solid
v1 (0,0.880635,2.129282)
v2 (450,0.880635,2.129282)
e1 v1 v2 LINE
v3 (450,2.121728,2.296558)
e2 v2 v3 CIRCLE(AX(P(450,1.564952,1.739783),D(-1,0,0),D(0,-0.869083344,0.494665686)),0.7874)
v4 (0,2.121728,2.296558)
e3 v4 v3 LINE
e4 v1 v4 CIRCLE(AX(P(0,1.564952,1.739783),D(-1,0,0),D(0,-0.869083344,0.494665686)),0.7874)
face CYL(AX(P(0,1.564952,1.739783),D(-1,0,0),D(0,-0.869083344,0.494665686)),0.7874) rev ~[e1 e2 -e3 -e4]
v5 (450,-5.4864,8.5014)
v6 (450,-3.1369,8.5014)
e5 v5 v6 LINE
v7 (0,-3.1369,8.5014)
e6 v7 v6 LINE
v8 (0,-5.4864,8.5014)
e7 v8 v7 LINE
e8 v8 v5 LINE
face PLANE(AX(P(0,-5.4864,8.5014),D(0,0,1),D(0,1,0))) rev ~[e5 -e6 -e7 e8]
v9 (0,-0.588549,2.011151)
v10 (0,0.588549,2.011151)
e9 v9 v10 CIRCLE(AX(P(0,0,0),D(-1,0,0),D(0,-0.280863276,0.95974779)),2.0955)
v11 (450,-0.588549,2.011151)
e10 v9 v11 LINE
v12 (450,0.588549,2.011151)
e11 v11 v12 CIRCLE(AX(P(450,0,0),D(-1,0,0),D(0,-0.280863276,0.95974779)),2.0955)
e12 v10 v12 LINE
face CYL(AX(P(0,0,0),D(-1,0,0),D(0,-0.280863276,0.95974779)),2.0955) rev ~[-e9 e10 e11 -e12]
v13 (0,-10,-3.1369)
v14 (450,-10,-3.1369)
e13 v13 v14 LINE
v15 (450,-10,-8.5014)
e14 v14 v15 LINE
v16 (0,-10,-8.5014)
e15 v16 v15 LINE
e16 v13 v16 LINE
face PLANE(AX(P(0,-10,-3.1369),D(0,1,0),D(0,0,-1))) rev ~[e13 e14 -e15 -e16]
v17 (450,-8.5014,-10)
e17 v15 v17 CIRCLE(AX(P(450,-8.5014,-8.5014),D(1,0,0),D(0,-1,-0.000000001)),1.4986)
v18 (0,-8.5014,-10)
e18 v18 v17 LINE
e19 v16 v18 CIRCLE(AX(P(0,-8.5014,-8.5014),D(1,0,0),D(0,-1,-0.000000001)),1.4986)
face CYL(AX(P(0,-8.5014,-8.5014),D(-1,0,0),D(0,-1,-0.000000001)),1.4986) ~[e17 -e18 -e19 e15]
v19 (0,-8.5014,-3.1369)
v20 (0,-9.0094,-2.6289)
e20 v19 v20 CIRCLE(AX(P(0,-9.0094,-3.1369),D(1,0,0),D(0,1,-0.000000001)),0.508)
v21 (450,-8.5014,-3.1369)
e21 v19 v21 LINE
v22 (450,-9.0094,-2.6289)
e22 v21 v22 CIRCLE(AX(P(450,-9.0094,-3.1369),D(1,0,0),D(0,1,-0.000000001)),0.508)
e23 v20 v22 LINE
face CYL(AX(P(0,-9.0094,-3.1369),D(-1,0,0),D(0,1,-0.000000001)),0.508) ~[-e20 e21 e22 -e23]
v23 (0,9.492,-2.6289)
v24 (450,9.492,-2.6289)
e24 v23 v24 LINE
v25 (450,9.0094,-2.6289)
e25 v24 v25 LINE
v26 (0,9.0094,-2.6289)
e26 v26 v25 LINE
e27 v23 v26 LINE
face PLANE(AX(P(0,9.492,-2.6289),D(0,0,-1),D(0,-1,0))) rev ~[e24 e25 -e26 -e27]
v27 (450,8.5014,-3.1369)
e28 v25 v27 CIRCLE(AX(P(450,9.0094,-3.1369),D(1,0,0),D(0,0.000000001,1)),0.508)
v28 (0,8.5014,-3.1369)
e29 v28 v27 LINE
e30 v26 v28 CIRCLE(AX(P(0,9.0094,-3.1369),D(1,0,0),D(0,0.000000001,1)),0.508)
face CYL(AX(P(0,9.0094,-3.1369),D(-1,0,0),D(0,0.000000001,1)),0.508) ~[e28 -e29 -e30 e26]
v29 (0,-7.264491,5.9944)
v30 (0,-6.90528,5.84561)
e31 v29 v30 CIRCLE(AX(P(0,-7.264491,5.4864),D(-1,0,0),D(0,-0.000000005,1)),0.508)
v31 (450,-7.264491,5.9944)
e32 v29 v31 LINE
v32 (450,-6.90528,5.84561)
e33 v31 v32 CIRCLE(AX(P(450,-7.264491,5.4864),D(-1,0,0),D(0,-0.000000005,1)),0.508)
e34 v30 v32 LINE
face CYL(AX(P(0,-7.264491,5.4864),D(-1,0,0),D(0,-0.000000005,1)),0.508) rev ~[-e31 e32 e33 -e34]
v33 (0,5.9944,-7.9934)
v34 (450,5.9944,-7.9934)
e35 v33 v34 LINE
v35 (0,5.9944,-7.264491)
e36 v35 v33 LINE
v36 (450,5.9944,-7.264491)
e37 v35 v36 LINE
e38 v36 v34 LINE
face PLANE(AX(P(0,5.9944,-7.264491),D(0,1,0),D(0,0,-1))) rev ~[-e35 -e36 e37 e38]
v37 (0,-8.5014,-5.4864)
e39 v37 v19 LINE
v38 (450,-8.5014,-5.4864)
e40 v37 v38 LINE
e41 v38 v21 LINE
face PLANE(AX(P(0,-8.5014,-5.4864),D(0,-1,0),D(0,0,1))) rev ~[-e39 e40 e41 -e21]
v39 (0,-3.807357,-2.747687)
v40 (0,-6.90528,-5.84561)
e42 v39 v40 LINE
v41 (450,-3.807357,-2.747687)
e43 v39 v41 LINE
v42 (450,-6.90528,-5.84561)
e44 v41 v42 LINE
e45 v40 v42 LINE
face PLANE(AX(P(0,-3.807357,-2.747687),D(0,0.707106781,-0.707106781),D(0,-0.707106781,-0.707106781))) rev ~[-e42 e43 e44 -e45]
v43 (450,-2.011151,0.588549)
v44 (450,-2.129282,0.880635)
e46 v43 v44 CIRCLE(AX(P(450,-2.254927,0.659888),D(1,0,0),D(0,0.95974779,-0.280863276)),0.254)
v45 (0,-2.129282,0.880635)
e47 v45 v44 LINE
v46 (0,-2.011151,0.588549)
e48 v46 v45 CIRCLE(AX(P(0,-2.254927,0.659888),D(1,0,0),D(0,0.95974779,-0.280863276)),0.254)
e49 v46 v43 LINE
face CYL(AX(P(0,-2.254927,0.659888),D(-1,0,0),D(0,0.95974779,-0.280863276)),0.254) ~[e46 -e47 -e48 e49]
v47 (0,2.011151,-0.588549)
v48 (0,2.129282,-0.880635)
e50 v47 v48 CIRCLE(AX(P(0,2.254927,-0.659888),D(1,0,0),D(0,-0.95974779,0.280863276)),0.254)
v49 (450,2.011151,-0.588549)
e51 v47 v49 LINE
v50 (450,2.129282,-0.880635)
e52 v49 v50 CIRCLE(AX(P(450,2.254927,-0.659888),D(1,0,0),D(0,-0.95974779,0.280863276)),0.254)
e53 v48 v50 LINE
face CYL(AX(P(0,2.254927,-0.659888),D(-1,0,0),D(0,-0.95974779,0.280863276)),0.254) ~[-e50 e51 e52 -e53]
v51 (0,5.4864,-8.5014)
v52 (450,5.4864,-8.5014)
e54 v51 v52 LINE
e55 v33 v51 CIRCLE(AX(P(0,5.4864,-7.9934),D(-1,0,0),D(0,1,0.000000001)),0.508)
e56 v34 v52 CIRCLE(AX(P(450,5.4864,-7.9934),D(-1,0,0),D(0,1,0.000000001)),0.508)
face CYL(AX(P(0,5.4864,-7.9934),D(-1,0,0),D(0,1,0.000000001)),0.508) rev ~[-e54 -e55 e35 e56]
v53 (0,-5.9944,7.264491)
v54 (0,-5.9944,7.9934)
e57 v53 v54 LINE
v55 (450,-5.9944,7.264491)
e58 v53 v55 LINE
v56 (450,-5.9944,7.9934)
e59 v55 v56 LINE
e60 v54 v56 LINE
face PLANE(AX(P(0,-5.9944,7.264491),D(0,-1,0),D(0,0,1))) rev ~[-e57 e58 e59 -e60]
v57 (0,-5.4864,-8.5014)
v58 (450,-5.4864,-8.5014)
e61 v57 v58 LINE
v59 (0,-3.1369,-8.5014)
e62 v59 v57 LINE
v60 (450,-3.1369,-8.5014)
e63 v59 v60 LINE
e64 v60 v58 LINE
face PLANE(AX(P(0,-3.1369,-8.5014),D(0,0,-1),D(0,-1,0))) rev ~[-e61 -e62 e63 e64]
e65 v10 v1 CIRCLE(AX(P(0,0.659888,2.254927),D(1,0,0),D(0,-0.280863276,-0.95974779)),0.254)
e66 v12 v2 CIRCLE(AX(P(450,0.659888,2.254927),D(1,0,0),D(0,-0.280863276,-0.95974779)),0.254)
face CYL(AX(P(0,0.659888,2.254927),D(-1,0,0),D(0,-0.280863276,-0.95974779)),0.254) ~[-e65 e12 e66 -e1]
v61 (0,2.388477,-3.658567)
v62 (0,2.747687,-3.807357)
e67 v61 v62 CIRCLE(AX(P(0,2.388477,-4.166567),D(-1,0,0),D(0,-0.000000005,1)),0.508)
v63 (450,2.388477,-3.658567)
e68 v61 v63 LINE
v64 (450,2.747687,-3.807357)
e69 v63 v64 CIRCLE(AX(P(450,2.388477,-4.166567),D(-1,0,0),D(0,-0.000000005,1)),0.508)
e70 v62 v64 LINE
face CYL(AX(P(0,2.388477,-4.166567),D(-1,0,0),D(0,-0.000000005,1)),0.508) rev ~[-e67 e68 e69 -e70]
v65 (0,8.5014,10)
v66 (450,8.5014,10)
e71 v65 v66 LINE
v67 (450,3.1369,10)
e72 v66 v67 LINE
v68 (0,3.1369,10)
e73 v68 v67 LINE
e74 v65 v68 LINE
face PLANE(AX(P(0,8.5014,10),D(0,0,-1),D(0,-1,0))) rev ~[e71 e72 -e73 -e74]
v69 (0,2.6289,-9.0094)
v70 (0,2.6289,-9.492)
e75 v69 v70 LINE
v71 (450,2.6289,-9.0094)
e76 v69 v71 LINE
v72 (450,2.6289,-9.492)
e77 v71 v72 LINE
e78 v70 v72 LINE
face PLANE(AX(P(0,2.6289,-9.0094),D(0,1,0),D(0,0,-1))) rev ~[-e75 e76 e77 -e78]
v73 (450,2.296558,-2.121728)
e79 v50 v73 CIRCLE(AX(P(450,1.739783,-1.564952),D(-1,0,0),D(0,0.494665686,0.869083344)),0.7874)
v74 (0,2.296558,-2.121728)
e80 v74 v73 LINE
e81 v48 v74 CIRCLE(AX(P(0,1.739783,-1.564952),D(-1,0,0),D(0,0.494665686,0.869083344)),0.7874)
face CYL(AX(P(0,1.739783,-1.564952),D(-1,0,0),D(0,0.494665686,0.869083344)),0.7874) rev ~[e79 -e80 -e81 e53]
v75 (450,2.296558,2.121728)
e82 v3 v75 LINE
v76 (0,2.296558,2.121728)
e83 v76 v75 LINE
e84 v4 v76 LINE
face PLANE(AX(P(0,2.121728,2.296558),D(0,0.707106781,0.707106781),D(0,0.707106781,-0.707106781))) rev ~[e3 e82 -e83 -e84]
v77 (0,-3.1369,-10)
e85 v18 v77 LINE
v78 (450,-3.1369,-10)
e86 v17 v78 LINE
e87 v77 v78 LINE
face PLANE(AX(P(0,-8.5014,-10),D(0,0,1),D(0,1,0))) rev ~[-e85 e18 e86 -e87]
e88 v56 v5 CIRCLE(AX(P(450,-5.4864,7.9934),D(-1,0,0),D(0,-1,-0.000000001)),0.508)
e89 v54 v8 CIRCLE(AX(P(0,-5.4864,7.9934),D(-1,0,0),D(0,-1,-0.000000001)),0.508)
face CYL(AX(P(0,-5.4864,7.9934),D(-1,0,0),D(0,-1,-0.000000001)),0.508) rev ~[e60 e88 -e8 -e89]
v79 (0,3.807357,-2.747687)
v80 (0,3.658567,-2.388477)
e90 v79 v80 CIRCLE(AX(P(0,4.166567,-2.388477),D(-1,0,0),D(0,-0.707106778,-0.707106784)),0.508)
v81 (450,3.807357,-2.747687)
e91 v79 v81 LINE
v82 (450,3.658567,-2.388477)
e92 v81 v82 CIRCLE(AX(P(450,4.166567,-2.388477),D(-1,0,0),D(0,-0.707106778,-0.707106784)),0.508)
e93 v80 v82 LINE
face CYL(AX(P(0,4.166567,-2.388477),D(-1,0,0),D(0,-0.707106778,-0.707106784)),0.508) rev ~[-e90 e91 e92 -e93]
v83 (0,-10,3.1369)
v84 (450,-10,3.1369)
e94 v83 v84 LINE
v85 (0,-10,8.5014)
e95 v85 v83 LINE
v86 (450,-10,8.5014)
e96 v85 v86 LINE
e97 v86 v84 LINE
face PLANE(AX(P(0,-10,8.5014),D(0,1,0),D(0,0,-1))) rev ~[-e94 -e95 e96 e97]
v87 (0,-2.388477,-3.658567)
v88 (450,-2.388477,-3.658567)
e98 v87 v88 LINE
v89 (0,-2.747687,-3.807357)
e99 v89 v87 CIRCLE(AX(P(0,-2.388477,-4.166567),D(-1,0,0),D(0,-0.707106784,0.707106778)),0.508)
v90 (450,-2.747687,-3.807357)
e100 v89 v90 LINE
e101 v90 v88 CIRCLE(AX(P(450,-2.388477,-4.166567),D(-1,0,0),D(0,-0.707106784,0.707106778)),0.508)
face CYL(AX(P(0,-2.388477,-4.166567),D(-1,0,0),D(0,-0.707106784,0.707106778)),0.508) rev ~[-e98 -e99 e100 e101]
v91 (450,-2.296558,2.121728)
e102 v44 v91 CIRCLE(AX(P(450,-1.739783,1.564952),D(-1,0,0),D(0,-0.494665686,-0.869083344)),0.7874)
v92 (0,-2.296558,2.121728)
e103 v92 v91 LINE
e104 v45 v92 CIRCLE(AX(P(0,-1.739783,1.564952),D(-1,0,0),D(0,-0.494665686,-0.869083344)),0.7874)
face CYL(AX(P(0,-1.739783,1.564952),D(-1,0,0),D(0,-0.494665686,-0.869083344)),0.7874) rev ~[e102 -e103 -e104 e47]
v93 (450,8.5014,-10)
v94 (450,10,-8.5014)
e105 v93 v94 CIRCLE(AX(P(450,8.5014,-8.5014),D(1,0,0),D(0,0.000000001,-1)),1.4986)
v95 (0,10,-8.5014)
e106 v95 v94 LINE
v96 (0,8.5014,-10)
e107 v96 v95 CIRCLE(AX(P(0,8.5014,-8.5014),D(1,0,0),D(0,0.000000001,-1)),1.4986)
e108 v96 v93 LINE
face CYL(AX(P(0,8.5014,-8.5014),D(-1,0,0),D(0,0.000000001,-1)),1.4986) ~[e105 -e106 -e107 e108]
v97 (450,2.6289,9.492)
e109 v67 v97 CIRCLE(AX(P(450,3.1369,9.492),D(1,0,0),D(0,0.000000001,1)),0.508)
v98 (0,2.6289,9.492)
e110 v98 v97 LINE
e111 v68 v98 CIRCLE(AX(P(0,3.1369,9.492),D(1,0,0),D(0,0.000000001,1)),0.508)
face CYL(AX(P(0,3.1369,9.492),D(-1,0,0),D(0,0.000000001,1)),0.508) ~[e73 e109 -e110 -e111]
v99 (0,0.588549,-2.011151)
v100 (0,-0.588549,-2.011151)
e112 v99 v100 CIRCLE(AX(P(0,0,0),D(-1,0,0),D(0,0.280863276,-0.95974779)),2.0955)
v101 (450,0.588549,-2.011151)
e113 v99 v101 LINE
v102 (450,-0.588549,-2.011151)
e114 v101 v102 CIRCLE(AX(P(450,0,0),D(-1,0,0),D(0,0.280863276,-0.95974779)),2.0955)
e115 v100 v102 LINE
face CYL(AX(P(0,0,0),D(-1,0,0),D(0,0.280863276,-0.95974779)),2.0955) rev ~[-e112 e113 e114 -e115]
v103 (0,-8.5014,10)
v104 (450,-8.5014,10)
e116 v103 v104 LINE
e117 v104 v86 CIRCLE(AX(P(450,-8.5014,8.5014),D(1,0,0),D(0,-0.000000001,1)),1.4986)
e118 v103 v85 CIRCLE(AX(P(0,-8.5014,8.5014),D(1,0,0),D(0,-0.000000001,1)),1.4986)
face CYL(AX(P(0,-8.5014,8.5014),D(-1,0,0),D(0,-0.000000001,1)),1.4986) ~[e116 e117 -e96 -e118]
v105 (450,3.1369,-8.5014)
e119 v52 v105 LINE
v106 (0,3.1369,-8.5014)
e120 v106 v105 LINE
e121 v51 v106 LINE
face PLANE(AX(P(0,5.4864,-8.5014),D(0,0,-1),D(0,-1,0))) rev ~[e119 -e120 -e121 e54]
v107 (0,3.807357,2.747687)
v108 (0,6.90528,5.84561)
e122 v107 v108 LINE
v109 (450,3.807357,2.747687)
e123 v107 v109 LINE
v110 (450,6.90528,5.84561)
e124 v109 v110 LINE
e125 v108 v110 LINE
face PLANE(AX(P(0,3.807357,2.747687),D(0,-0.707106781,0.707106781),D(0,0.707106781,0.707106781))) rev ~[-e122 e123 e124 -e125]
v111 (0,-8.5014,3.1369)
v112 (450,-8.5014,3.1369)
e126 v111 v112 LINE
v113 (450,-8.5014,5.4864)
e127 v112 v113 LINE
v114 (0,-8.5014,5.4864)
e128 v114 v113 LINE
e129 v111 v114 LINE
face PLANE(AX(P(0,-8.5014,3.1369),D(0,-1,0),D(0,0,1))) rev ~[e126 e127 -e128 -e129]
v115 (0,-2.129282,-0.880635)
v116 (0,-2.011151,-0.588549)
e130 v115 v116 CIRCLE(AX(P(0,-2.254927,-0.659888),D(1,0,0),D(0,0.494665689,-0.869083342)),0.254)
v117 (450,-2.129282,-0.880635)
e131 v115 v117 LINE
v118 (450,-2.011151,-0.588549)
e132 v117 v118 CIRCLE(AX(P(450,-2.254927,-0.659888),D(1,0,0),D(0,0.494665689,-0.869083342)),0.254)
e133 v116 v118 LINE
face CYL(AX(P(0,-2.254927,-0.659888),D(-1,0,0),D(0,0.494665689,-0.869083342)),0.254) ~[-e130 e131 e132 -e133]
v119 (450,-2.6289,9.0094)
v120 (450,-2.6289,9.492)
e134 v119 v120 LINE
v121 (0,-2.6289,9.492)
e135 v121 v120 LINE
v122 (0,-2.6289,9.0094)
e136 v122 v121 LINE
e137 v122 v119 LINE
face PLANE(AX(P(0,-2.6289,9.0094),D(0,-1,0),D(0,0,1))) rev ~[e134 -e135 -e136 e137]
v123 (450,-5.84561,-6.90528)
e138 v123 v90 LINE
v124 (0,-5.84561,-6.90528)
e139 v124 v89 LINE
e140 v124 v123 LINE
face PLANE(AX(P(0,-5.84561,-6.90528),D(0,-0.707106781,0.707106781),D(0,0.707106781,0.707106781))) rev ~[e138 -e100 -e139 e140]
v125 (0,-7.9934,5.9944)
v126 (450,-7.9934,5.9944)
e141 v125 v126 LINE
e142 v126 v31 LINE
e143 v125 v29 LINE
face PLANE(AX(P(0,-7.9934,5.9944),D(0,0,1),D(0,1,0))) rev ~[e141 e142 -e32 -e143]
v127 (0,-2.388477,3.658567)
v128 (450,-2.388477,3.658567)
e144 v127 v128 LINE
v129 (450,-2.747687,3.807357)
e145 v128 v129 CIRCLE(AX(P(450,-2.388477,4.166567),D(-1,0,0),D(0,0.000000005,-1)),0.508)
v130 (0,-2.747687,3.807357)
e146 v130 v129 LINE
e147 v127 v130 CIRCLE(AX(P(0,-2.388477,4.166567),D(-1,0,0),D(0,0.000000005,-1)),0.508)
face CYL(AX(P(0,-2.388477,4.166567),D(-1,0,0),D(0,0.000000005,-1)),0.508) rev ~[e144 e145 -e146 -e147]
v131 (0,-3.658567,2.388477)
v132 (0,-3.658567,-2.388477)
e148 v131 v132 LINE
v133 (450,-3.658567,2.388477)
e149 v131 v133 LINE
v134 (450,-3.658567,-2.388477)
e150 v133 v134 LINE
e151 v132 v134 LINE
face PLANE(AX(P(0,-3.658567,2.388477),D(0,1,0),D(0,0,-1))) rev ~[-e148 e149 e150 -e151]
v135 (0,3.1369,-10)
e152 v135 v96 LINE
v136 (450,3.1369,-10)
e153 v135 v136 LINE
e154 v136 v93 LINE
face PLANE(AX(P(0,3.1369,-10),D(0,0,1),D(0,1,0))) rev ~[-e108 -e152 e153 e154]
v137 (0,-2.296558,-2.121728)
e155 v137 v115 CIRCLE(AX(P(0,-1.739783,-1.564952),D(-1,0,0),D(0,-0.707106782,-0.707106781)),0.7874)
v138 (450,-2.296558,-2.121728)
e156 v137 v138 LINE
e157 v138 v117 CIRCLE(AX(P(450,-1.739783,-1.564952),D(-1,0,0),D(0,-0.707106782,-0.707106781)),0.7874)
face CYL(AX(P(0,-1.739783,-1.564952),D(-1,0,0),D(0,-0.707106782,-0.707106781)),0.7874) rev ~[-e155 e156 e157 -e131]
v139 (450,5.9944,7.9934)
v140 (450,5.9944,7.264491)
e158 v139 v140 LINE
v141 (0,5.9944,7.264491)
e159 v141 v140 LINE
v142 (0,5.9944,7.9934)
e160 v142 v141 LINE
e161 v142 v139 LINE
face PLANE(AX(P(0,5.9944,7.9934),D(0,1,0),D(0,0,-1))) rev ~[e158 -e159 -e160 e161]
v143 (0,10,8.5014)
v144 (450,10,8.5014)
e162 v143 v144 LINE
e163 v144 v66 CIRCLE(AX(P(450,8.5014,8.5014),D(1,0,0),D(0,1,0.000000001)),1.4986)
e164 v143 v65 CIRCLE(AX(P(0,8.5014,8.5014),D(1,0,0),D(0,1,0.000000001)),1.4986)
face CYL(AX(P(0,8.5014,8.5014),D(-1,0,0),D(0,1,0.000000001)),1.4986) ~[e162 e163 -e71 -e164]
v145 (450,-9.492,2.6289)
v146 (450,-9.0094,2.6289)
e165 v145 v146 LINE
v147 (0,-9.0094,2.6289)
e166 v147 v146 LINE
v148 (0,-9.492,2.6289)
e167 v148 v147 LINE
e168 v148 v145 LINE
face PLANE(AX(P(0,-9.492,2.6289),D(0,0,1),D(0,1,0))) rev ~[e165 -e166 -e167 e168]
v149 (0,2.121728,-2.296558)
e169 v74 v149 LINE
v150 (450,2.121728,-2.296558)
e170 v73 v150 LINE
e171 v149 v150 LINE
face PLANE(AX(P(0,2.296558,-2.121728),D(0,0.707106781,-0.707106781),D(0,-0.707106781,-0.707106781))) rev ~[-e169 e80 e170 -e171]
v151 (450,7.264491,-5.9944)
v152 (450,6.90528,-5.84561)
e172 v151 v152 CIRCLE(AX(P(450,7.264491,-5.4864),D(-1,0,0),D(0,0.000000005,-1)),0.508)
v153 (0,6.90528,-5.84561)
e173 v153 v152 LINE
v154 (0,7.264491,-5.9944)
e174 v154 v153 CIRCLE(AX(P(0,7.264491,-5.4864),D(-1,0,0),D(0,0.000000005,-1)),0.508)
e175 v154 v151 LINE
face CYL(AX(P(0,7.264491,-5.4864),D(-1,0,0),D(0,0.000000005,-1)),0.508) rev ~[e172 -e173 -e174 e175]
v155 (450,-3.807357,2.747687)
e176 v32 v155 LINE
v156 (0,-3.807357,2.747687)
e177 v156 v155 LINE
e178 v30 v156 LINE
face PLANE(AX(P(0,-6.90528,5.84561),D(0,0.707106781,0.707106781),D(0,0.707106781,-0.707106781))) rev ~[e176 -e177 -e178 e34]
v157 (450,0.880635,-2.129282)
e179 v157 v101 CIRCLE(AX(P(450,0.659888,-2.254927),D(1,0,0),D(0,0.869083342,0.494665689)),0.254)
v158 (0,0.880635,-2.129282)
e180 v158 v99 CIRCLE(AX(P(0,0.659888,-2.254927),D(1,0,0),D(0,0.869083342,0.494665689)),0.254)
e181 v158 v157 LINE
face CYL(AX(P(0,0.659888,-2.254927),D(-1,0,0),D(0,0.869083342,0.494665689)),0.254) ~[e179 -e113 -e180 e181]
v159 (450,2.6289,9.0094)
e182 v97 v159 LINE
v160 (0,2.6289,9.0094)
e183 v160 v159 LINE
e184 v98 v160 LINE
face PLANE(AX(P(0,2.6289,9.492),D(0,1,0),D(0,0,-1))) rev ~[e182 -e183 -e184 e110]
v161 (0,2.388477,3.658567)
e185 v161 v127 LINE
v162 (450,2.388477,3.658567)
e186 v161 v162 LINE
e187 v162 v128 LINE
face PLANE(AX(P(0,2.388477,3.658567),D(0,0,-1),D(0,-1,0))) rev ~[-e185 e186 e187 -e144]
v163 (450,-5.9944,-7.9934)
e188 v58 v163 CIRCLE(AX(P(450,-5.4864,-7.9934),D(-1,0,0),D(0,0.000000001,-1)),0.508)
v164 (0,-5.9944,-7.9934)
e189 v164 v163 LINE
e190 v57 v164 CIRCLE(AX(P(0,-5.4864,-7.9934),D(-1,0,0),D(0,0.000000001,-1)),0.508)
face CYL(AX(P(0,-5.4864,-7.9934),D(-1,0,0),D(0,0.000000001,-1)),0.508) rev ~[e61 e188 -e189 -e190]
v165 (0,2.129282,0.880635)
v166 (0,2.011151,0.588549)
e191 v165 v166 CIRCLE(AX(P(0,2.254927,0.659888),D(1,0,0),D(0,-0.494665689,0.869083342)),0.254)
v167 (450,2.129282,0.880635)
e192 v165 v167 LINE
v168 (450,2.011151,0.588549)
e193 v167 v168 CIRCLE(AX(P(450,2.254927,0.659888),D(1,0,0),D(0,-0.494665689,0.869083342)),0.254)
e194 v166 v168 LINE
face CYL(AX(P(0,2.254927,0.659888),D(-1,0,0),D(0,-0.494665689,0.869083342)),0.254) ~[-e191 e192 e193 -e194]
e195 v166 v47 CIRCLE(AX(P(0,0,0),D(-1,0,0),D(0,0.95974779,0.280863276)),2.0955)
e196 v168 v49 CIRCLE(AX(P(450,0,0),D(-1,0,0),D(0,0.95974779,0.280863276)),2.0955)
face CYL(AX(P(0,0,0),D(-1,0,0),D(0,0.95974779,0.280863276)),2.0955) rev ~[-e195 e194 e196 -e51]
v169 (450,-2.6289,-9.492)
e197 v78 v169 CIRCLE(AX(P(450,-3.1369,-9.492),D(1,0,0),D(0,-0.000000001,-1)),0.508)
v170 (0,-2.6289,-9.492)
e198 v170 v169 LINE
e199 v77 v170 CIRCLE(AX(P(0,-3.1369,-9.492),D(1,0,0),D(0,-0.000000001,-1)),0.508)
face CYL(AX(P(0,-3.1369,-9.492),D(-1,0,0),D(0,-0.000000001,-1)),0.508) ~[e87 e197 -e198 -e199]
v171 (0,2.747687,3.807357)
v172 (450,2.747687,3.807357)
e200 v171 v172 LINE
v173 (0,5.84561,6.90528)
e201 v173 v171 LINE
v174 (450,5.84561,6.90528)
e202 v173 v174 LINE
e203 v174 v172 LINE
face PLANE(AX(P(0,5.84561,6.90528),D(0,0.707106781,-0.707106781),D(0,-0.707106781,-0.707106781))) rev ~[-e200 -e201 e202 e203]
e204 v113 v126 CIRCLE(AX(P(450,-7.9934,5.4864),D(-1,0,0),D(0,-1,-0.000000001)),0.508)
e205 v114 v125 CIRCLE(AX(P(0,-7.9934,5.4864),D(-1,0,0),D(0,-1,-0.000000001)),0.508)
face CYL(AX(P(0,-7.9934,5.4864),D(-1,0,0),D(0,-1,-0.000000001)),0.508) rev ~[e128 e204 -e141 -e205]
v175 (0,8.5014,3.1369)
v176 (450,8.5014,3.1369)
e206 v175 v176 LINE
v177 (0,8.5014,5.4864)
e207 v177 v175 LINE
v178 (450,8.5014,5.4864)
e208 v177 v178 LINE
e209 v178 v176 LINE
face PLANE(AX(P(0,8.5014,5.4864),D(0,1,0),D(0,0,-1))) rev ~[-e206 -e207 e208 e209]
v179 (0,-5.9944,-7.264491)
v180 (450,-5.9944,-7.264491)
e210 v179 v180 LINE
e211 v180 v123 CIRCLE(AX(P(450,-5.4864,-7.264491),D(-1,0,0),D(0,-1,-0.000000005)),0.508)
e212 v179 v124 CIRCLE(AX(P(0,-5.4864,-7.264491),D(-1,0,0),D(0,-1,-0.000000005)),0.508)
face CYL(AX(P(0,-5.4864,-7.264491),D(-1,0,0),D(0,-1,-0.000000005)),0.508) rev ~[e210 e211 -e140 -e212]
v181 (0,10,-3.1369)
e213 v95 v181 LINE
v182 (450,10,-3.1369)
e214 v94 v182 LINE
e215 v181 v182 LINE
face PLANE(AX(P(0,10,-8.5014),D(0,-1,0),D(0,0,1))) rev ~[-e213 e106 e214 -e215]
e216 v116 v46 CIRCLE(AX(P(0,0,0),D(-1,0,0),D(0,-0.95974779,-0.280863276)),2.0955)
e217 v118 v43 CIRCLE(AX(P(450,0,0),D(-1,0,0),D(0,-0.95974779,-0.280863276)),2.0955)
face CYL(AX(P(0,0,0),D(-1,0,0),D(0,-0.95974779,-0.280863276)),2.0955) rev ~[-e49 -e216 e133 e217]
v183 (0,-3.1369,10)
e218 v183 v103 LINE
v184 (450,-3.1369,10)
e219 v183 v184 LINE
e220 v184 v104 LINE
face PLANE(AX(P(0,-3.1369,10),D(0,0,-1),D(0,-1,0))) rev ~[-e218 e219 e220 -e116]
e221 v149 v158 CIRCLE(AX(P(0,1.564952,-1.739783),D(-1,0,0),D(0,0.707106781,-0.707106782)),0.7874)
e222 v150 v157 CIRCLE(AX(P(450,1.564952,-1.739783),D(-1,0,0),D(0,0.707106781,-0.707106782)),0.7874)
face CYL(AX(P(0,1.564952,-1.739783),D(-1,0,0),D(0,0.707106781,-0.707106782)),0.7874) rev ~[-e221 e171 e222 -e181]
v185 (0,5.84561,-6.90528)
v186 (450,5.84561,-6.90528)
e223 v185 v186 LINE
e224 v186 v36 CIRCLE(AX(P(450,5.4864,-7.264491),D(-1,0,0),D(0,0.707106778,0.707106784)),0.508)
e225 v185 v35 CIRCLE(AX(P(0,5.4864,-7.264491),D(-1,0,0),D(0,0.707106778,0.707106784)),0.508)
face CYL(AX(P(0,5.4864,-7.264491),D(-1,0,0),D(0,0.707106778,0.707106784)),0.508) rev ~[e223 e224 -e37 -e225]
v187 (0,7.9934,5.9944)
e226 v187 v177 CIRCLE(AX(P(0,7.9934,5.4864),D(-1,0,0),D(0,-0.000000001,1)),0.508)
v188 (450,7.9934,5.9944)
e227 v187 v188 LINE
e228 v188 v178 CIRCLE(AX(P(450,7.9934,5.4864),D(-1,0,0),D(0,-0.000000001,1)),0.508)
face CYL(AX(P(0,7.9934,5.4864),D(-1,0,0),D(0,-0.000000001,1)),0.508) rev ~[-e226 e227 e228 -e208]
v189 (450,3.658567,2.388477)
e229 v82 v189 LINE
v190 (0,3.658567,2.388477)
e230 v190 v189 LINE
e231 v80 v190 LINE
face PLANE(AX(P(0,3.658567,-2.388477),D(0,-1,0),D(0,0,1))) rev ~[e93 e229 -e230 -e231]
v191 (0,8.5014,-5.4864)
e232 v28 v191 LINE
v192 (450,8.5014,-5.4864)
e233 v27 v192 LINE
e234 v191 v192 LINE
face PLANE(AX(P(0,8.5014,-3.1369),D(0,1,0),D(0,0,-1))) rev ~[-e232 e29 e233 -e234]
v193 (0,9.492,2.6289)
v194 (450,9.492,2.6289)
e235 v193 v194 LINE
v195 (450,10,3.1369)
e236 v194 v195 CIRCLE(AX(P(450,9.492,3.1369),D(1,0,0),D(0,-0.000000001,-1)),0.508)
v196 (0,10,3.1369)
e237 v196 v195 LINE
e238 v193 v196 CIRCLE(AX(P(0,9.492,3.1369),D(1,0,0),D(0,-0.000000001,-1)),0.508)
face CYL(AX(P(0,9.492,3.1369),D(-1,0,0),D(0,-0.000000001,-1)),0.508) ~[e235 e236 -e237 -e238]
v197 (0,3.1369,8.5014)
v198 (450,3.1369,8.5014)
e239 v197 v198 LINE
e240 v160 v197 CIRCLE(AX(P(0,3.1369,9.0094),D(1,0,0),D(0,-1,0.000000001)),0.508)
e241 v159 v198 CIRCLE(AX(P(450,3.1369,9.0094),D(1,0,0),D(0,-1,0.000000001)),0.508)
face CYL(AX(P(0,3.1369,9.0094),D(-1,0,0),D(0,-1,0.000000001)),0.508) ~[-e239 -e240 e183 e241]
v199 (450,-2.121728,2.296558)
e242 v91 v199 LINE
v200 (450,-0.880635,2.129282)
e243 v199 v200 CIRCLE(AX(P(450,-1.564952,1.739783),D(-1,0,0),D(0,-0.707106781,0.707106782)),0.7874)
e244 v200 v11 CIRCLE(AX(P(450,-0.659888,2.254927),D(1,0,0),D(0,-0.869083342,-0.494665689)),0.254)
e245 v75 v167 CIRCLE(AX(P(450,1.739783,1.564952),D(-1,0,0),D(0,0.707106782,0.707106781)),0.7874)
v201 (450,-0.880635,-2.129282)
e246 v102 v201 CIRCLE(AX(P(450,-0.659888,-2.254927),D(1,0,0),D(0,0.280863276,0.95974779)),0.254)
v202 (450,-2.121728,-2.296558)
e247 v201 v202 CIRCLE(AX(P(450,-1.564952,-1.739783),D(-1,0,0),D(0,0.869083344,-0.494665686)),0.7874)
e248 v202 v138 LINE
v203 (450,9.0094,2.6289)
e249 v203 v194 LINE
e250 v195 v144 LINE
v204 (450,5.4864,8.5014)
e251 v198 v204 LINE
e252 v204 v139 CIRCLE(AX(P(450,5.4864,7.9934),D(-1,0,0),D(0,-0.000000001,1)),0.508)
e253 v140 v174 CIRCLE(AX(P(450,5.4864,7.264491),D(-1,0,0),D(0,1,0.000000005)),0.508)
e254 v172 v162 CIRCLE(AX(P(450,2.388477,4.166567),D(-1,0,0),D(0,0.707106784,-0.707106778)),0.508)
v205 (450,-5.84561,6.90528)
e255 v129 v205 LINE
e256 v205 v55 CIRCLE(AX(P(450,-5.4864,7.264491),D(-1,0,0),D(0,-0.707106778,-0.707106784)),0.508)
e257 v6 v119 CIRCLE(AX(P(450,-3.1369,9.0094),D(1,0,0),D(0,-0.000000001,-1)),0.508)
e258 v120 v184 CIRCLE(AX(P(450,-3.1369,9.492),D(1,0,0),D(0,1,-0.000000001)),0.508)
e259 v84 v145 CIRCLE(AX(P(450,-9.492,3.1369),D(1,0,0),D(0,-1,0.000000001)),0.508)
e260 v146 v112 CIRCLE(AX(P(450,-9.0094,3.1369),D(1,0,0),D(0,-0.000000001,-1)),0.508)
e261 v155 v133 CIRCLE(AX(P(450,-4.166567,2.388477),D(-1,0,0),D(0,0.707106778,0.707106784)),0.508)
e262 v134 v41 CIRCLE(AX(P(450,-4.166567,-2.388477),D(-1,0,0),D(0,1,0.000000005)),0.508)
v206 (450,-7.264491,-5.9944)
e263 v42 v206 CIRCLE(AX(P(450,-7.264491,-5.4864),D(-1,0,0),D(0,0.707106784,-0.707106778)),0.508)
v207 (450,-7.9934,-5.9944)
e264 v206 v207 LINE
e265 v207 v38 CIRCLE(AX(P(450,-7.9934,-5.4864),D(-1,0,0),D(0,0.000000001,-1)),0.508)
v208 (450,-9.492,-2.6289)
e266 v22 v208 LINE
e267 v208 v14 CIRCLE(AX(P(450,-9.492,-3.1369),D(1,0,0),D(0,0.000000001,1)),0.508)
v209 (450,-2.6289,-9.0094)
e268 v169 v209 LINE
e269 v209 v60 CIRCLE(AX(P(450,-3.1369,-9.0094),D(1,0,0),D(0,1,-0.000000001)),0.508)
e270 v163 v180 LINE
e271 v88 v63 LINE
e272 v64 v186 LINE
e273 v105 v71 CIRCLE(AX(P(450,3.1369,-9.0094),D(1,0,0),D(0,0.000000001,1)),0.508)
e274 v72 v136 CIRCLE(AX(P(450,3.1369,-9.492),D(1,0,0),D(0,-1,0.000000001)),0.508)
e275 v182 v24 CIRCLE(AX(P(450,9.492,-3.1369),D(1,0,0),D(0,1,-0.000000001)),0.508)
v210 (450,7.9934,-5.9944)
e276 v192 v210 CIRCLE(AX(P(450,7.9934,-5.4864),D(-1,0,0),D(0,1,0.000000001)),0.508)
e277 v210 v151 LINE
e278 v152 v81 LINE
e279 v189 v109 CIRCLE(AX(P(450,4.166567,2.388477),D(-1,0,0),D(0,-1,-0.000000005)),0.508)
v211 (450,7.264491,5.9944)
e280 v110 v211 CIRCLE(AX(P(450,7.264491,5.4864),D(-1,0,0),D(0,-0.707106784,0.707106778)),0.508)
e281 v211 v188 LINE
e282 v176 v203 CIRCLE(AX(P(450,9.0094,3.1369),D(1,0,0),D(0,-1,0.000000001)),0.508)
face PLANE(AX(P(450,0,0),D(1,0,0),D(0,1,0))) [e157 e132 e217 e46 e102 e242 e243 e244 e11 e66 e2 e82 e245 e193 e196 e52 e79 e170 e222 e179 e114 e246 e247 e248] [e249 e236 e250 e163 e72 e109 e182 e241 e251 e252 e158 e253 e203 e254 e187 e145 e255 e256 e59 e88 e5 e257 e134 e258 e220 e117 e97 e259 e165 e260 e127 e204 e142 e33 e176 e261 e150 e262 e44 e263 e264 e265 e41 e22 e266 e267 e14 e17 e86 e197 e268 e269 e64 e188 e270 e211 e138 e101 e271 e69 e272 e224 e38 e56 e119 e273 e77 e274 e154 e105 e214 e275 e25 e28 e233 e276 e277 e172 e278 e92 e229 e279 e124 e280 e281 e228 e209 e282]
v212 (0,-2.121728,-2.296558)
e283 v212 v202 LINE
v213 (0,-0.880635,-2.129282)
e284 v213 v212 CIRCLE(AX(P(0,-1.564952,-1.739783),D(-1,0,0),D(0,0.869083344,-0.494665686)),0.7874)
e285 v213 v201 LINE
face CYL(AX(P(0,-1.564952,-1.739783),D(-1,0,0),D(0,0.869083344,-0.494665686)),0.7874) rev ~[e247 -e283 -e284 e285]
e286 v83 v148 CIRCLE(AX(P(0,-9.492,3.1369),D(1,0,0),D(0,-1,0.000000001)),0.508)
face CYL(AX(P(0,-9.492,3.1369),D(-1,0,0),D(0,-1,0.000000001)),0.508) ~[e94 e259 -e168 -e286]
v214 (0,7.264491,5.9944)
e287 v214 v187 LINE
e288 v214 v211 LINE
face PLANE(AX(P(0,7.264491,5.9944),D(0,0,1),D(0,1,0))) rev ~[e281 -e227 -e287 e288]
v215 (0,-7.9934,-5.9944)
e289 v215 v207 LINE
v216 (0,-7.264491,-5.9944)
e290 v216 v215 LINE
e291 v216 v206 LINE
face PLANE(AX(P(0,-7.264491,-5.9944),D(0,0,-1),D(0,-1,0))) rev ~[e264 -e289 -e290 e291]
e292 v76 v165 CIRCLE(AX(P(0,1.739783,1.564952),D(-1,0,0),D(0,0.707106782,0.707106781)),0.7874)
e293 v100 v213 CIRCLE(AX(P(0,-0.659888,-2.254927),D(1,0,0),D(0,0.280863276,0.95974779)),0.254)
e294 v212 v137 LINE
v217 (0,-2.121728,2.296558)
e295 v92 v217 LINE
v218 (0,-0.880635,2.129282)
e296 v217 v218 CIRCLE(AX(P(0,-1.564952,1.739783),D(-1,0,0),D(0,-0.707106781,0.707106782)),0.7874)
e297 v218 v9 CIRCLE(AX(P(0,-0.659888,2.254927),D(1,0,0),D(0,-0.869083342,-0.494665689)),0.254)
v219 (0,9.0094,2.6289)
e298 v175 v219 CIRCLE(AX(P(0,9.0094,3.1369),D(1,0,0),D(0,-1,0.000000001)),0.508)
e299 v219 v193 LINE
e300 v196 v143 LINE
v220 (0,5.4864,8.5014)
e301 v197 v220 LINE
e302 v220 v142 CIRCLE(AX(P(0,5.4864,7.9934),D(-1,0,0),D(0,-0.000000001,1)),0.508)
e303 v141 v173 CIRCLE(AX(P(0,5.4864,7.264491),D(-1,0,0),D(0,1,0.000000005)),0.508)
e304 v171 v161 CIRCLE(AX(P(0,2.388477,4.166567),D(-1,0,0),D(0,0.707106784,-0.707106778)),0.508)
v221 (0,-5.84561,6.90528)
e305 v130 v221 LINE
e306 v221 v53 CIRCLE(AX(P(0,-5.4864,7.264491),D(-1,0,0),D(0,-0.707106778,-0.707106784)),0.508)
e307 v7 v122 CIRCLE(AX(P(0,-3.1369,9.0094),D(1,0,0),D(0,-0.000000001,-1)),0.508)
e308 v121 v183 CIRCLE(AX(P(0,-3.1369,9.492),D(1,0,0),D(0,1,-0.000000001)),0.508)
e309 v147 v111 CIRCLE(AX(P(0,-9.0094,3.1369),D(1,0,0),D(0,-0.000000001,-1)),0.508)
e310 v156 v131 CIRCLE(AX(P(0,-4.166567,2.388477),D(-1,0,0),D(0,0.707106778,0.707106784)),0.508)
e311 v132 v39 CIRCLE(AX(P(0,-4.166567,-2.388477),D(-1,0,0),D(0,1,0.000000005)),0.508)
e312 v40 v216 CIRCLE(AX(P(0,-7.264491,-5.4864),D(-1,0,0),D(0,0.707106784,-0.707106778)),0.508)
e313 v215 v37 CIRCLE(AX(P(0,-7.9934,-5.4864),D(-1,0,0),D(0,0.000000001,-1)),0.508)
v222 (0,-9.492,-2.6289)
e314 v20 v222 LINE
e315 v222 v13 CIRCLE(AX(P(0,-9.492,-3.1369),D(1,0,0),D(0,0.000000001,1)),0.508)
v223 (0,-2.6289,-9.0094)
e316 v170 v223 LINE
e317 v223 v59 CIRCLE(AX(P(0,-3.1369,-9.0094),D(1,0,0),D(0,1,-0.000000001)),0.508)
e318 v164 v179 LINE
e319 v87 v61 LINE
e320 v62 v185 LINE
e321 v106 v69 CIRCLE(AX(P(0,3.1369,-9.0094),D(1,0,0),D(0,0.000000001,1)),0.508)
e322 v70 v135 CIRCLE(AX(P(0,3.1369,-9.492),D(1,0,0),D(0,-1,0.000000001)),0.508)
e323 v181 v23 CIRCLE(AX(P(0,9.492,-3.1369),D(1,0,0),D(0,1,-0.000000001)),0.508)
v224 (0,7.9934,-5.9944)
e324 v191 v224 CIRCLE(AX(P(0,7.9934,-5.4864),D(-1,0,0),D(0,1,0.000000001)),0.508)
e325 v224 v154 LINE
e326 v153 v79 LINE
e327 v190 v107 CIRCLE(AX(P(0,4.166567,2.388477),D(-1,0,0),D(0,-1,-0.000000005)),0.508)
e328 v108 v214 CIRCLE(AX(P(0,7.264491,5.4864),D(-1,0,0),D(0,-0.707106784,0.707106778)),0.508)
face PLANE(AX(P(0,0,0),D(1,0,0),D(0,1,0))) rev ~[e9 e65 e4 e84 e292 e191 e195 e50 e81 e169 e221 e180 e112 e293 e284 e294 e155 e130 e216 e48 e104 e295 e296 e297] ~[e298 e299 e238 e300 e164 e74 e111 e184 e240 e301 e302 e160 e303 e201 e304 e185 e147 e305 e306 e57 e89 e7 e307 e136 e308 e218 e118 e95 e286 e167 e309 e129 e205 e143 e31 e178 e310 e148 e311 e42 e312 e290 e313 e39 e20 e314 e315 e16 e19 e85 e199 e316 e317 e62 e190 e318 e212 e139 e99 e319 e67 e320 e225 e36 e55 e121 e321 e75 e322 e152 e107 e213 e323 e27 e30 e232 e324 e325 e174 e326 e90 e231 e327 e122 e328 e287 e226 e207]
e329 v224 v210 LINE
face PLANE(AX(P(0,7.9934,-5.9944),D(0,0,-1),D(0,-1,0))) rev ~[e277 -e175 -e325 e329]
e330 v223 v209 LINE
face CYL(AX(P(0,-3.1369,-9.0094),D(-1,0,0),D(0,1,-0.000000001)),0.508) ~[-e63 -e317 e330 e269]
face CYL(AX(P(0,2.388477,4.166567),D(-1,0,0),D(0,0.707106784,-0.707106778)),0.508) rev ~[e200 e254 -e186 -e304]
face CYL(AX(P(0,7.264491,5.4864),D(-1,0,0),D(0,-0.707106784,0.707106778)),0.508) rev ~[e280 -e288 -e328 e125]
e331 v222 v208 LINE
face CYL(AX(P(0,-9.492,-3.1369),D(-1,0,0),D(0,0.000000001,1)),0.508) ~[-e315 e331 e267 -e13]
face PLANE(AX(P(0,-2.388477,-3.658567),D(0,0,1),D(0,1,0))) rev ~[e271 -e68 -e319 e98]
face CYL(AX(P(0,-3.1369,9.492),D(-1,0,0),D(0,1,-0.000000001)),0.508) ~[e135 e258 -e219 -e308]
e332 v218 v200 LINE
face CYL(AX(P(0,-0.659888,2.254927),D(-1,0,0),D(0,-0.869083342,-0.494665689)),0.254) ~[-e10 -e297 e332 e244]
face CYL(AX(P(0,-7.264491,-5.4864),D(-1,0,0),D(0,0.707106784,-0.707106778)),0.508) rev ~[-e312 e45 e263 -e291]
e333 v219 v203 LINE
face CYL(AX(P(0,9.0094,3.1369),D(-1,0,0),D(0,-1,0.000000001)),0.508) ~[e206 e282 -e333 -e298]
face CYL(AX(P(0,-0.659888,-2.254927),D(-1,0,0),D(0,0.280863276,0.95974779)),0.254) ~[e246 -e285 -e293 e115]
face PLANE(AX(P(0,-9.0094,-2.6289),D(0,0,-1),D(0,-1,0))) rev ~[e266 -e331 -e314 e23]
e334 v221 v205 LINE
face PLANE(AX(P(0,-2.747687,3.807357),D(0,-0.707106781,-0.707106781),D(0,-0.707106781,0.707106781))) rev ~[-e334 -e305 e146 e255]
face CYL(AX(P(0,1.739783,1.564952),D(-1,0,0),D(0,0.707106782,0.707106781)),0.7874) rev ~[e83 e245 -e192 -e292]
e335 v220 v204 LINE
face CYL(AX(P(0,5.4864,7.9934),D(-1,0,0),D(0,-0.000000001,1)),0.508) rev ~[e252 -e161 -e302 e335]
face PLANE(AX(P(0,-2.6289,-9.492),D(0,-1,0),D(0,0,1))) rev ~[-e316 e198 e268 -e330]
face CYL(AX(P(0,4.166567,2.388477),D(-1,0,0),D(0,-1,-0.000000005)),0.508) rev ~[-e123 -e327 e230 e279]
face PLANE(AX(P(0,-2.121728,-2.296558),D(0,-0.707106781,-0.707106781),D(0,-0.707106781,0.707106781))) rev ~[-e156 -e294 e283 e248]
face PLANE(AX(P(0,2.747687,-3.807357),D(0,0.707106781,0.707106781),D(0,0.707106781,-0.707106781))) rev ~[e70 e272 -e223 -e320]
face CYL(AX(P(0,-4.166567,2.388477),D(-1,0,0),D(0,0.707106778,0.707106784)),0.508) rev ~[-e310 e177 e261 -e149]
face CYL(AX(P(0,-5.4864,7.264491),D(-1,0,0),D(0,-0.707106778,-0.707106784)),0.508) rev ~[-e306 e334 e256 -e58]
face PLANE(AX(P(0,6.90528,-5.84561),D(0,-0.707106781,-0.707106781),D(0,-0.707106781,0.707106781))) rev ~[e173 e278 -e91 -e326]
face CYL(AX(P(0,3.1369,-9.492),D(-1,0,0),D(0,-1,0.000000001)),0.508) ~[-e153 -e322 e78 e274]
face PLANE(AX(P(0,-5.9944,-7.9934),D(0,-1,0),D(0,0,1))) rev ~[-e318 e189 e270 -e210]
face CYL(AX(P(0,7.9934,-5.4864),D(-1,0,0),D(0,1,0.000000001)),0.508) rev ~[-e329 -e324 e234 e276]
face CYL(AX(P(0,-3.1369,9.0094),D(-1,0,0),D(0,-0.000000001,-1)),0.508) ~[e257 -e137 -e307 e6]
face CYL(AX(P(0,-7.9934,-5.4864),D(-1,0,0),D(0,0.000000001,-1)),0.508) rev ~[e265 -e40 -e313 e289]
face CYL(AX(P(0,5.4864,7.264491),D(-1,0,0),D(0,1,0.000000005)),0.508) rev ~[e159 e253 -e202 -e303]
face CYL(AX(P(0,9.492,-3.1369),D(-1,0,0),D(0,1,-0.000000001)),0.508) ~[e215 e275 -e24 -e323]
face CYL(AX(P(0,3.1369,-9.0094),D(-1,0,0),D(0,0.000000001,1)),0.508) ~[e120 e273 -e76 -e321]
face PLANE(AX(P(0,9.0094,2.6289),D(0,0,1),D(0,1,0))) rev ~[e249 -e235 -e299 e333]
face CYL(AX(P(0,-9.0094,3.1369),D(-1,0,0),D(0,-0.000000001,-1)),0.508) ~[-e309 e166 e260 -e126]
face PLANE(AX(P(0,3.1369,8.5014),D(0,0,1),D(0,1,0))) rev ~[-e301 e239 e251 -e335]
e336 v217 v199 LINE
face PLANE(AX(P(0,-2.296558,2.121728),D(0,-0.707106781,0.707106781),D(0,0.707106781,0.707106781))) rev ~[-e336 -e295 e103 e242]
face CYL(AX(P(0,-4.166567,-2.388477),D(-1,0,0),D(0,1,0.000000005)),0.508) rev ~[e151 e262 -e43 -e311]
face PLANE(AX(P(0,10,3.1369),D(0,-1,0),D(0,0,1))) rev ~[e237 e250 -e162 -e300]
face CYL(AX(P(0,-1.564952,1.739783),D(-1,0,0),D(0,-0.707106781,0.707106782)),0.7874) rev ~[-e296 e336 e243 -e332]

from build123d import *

# Parameters (mm, degrees)
F_20_SERIES_20_2020_1_DEPTH = 450


with BuildPart() as part:
    # Sketch11 → 20_series 20-2020(1) (new body)
    with BuildSketch(Plane.YZ):
        with BuildLine():
            Line((9.0094, 2.6289), (9.492, 2.6289))
            ThreePointArc((9.492, 2.6289), (9.851210245, 2.777689755), (10, 3.1369))
            Line((10, 3.1369), (10, 8.5014))
            ThreePointArc((10, 8.5014), (9.561070222, 9.561070222), (8.5014, 10))
            Line((8.5014, 10), (3.1369, 10))
            ThreePointArc((3.1369, 10), (2.777689755, 9.851210245), (2.6289, 9.492))
            Line((2.6289, 9.492), (2.6289, 9.0094))
            ThreePointArc((2.6289, 9.0094), (2.777689755, 8.650189755), (3.1369, 8.5014))
            Line((3.1369, 8.5014), (5.4864, 8.5014))
            ThreePointArc((5.4864, 8.5014), (5.845610245, 8.352610245), (5.9944, 7.9934))
            Line((5.9944, 7.9934), (5.9944, 7.264490712))
            ThreePointArc((5.9944, 7.264490712), (5.955730803, 7.070087528), (5.845610245, 6.905280467))
            Line((5.845610245, 6.905280467), (2.747686782, 3.807357004))
            ThreePointArc((2.747686782, 3.807357004), (2.582879721, 3.697236446), (2.388476537, 3.658567249))
            Line((2.388476537, 3.658567249), (-2.388476537, 3.658567249))
            ThreePointArc((-2.388476537, 3.658567249), (-2.582879721, 3.697236446), (-2.747686782, 3.807357004))
            Line((-2.747686782, 3.807357004), (-5.845610245, 6.905280467))
            ThreePointArc((-5.845610245, 6.905280467), (-5.955730803, 7.070087528), (-5.9944, 7.264490712))
            Line((-5.9944, 7.264490712), (-5.9944, 7.9934))
            ThreePointArc((-5.9944, 7.9934), (-5.845610245, 8.352610245), (-5.4864, 8.5014))
            Line((-5.4864, 8.5014), (-3.1369, 8.5014))
            ThreePointArc((-3.1369, 8.5014), (-2.777689755, 8.650189755), (-2.6289, 9.0094))
            Line((-2.6289, 9.0094), (-2.6289, 9.492))
            ThreePointArc((-2.6289, 9.492), (-2.777689755, 9.851210245), (-3.1369, 10))
            Line((-3.1369, 10), (-8.5014, 10))
            ThreePointArc((-8.5014, 10), (-9.561070222, 9.561070222), (-10, 8.5014))
            Line((-10, 8.5014), (-10, 3.1369))
            ThreePointArc((-10, 3.1369), (-9.851210245, 2.777689755), (-9.492, 2.6289))
            Line((-9.492, 2.6289), (-9.0094, 2.6289))
            ThreePointArc((-9.0094, 2.6289), (-8.650189755, 2.777689755), (-8.5014, 3.1369))
            Line((-8.5014, 3.1369), (-8.5014, 5.4864))
            ThreePointArc((-8.5014, 5.4864), (-8.352610245, 5.845610245), (-7.9934, 5.9944))
            Line((-7.9934, 5.9944), (-7.264490712, 5.9944))
            ThreePointArc((-7.264490712, 5.9944), (-7.070087528, 5.955730803), (-6.905280467, 5.845610245))
            Line((-6.905280467, 5.845610245), (-3.807357004, 2.747686782))
            ThreePointArc((-3.807357004, 2.747686782), (-3.697236446, 2.582879721), (-3.658567249, 2.388476537))
            Line((-3.658567249, 2.388476537), (-3.658567249, -2.388476537))
            ThreePointArc((-3.658567249, -2.388476537), (-3.697236446, -2.582879721), (-3.807357004, -2.747686782))
            Line((-3.807357004, -2.747686782), (-6.905280467, -5.845610245))
            ThreePointArc((-6.905280467, -5.845610245), (-7.070087528, -5.955730803), (-7.264490712, -5.9944))
            Line((-7.264490712, -5.9944), (-7.9934, -5.9944))
            ThreePointArc((-7.9934, -5.9944), (-8.352610245, -5.845610245), (-8.5014, -5.4864))
            Line((-8.5014, -5.4864), (-8.5014, -3.1369))
            ThreePointArc((-8.5014, -3.1369), (-8.650189755, -2.777689755), (-9.0094, -2.6289))
            Line((-9.0094, -2.6289), (-9.492, -2.6289))
            ThreePointArc((-9.492, -2.6289), (-9.851210245, -2.777689755), (-10, -3.1369))
            Line((-10, -3.1369), (-10, -8.5014))
            ThreePointArc((-10, -8.5014), (-9.561070222, -9.561070222), (-8.5014, -10))
            Line((-8.5014, -10), (-3.1369, -10))
            ThreePointArc((-3.1369, -10), (-2.777689755, -9.851210245), (-2.6289, -9.492))
            Line((-2.6289, -9.492), (-2.6289, -9.0094))
            ThreePointArc((-2.6289, -9.0094), (-2.777689755, -8.650189755), (-3.1369, -8.5014))
            Line((-3.1369, -8.5014), (-5.4864, -8.5014))
            ThreePointArc((-5.4864, -8.5014), (-5.845610245, -8.352610245), (-5.9944, -7.9934))
            Line((-5.9944, -7.9934), (-5.9944, -7.264490712))
            ThreePointArc((-5.9944, -7.264490712), (-5.955730803, -7.070087528), (-5.845610245, -6.905280467))
            Line((-5.845610245, -6.905280467), (-2.747686782, -3.807357004))
            ThreePointArc((-2.747686782, -3.807357004), (-2.582879721, -3.697236446), (-2.388476537, -3.658567249))
            Line((-2.388476537, -3.658567249), (2.388476537, -3.658567249))
            ThreePointArc((2.388476537, -3.658567249), (2.582879721, -3.697236446), (2.747686782, -3.807357004))
            Line((2.747686782, -3.807357004), (5.845610245, -6.905280467))
            ThreePointArc((5.845610245, -6.905280467), (5.955730803, -7.070087528), (5.9944, -7.264490712))
            Line((5.9944, -7.264490712), (5.9944, -7.9934))
            ThreePointArc((5.9944, -7.9934), (5.845610245, -8.352610245), (5.4864, -8.5014))
            Line((5.4864, -8.5014), (3.1369, -8.5014))
            ThreePointArc((3.1369, -8.5014), (2.777689755, -8.650189755), (2.6289, -9.0094))
            Line((2.6289, -9.0094), (2.6289, -9.492))
            ThreePointArc((2.6289, -9.492), (2.777689755, -9.851210245), (3.1369, -10))
            Line((3.1369, -10), (8.5014, -10))
            ThreePointArc((8.5014, -10), (9.561070222, -9.561070222), (10, -8.5014))
            Line((10, -8.5014), (10, -3.1369))
            ThreePointArc((10, -3.1369), (9.851210245, -2.777689755), (9.492, -2.6289))
            Line((9.492, -2.6289), (9.0094, -2.6289))
            ThreePointArc((9.0094, -2.6289), (8.650189755, -2.777689755), (8.5014, -3.1369))
            Line((8.5014, -3.1369), (8.5014, -5.4864))
            ThreePointArc((8.5014, -5.4864), (8.352610245, -5.845610245), (7.9934, -5.9944))
            Line((7.9934, -5.9944), (7.264490712, -5.9944))
            ThreePointArc((7.264490712, -5.9944), (7.070087528, -5.955730803), (6.905280467, -5.845610245))
            Line((6.905280467, -5.845610245), (3.807357004, -2.747686782))
            ThreePointArc((3.807357004, -2.747686782), (3.697236446, -2.582879721), (3.658567249, -2.388476537))
            Line((3.658567249, -2.388476537), (3.658567249, 2.388476537))
            ThreePointArc((3.658567249, 2.388476537), (3.697236446, 2.582879721), (3.807357004, 2.747686782))
            Line((3.807357004, 2.747686782), (6.905280467, 5.845610245))
            ThreePointArc((6.905280467, 5.845610245), (7.070087528, 5.955730803), (7.264490712, 5.9944))
            Line((7.264490712, 5.9944), (7.9934, 5.9944))
            ThreePointArc((7.9934, 5.9944), (8.352610245, 5.845610245), (8.5014, 5.4864))
            Line((8.5014, 5.4864), (8.5014, 3.1369))
            ThreePointArc((8.5014, 3.1369), (8.650189755, 2.777689755), (9.0094, 2.6289))
        make_face()
        with BuildLine():
            Line((-2.296558466, 2.121727546), (-2.121727546, 2.296558466))
            ThreePointArc((-2.121727546, 2.296558466), (-1.459775814, 2.520126613), (-0.880635441, 2.129282347))
            ThreePointArc((-0.880635441, 2.129282347), (-0.755121693, 2.019456424), (-0.588548999, 2.011151493))
            ThreePointArc((-0.588548999, 2.011151493), (0, 2.0955), (0.588548999, 2.011151493))
            ThreePointArc((0.588548999, 2.011151493), (0.755121693, 2.019456424), (0.880635441, 2.129282347))
            ThreePointArc((0.880635441, 2.129282347), (1.459775814, 2.520126613), (2.121727546, 2.296558466))
            Line((2.121727546, 2.296558466), (2.296558466, 2.121727546))
            ThreePointArc((2.296558466, 2.121727546), (2.520126613, 1.459775814), (2.129282347, 0.880635441))
            ThreePointArc((2.129282347, 0.880635441), (2.019456424, 0.755121693), (2.011151493, 0.588548999))
            ThreePointArc((2.011151493, 0.588548999), (2.0955, 0), (2.011151493, -0.588548999))
            ThreePointArc((2.011151493, -0.588548999), (2.019456424, -0.755121693), (2.129282347, -0.880635441))
            ThreePointArc((2.129282347, -0.880635441), (2.520126613, -1.459775814), (2.296558466, -2.121727546))
            Line((2.296558466, -2.121727546), (2.121727546, -2.296558466))
            ThreePointArc((2.121727546, -2.296558466), (1.459775814, -2.520126613), (0.880635441, -2.129282347))
            ThreePointArc((0.880635441, -2.129282347), (0.755121693, -2.019456424), (0.588548999, -2.011151493))
            ThreePointArc((0.588548999, -2.011151493), (0, -2.0955), (-0.588548999, -2.011151493))
            ThreePointArc((-0.588548999, -2.011151493), (-0.755121693, -2.019456424), (-0.880635441, -2.129282347))
            ThreePointArc((-0.880635441, -2.129282347), (-1.459775814, -2.520126613), (-2.121727546, -2.296558466))
            Line((-2.121727546, -2.296558466), (-2.296558466, -2.121727546))
            ThreePointArc((-2.296558466, -2.121727546), (-2.520126613, -1.459775814), (-2.129282347, -0.880635441))
            ThreePointArc((-2.129282347, -0.880635441), (-2.019456424, -0.755121693), (-2.011151493, -0.588548999))
            ThreePointArc((-2.011151493, -0.588548999), (-2.0955, 0), (-2.011151493, 0.588548999))
            ThreePointArc((-2.011151493, 0.588548999), (-2.019456424, 0.755121693), (-2.129282347, 0.880635441))
            ThreePointArc((-2.129282347, 0.880635441), (-2.520126613, 1.459775814), (-2.296558466, 2.121727546))
        make_face(mode=Mode.SUBTRACT)
    extrude(amount=F_20_SERIES_20_2020_1_DEPTH)


solid = part.part
